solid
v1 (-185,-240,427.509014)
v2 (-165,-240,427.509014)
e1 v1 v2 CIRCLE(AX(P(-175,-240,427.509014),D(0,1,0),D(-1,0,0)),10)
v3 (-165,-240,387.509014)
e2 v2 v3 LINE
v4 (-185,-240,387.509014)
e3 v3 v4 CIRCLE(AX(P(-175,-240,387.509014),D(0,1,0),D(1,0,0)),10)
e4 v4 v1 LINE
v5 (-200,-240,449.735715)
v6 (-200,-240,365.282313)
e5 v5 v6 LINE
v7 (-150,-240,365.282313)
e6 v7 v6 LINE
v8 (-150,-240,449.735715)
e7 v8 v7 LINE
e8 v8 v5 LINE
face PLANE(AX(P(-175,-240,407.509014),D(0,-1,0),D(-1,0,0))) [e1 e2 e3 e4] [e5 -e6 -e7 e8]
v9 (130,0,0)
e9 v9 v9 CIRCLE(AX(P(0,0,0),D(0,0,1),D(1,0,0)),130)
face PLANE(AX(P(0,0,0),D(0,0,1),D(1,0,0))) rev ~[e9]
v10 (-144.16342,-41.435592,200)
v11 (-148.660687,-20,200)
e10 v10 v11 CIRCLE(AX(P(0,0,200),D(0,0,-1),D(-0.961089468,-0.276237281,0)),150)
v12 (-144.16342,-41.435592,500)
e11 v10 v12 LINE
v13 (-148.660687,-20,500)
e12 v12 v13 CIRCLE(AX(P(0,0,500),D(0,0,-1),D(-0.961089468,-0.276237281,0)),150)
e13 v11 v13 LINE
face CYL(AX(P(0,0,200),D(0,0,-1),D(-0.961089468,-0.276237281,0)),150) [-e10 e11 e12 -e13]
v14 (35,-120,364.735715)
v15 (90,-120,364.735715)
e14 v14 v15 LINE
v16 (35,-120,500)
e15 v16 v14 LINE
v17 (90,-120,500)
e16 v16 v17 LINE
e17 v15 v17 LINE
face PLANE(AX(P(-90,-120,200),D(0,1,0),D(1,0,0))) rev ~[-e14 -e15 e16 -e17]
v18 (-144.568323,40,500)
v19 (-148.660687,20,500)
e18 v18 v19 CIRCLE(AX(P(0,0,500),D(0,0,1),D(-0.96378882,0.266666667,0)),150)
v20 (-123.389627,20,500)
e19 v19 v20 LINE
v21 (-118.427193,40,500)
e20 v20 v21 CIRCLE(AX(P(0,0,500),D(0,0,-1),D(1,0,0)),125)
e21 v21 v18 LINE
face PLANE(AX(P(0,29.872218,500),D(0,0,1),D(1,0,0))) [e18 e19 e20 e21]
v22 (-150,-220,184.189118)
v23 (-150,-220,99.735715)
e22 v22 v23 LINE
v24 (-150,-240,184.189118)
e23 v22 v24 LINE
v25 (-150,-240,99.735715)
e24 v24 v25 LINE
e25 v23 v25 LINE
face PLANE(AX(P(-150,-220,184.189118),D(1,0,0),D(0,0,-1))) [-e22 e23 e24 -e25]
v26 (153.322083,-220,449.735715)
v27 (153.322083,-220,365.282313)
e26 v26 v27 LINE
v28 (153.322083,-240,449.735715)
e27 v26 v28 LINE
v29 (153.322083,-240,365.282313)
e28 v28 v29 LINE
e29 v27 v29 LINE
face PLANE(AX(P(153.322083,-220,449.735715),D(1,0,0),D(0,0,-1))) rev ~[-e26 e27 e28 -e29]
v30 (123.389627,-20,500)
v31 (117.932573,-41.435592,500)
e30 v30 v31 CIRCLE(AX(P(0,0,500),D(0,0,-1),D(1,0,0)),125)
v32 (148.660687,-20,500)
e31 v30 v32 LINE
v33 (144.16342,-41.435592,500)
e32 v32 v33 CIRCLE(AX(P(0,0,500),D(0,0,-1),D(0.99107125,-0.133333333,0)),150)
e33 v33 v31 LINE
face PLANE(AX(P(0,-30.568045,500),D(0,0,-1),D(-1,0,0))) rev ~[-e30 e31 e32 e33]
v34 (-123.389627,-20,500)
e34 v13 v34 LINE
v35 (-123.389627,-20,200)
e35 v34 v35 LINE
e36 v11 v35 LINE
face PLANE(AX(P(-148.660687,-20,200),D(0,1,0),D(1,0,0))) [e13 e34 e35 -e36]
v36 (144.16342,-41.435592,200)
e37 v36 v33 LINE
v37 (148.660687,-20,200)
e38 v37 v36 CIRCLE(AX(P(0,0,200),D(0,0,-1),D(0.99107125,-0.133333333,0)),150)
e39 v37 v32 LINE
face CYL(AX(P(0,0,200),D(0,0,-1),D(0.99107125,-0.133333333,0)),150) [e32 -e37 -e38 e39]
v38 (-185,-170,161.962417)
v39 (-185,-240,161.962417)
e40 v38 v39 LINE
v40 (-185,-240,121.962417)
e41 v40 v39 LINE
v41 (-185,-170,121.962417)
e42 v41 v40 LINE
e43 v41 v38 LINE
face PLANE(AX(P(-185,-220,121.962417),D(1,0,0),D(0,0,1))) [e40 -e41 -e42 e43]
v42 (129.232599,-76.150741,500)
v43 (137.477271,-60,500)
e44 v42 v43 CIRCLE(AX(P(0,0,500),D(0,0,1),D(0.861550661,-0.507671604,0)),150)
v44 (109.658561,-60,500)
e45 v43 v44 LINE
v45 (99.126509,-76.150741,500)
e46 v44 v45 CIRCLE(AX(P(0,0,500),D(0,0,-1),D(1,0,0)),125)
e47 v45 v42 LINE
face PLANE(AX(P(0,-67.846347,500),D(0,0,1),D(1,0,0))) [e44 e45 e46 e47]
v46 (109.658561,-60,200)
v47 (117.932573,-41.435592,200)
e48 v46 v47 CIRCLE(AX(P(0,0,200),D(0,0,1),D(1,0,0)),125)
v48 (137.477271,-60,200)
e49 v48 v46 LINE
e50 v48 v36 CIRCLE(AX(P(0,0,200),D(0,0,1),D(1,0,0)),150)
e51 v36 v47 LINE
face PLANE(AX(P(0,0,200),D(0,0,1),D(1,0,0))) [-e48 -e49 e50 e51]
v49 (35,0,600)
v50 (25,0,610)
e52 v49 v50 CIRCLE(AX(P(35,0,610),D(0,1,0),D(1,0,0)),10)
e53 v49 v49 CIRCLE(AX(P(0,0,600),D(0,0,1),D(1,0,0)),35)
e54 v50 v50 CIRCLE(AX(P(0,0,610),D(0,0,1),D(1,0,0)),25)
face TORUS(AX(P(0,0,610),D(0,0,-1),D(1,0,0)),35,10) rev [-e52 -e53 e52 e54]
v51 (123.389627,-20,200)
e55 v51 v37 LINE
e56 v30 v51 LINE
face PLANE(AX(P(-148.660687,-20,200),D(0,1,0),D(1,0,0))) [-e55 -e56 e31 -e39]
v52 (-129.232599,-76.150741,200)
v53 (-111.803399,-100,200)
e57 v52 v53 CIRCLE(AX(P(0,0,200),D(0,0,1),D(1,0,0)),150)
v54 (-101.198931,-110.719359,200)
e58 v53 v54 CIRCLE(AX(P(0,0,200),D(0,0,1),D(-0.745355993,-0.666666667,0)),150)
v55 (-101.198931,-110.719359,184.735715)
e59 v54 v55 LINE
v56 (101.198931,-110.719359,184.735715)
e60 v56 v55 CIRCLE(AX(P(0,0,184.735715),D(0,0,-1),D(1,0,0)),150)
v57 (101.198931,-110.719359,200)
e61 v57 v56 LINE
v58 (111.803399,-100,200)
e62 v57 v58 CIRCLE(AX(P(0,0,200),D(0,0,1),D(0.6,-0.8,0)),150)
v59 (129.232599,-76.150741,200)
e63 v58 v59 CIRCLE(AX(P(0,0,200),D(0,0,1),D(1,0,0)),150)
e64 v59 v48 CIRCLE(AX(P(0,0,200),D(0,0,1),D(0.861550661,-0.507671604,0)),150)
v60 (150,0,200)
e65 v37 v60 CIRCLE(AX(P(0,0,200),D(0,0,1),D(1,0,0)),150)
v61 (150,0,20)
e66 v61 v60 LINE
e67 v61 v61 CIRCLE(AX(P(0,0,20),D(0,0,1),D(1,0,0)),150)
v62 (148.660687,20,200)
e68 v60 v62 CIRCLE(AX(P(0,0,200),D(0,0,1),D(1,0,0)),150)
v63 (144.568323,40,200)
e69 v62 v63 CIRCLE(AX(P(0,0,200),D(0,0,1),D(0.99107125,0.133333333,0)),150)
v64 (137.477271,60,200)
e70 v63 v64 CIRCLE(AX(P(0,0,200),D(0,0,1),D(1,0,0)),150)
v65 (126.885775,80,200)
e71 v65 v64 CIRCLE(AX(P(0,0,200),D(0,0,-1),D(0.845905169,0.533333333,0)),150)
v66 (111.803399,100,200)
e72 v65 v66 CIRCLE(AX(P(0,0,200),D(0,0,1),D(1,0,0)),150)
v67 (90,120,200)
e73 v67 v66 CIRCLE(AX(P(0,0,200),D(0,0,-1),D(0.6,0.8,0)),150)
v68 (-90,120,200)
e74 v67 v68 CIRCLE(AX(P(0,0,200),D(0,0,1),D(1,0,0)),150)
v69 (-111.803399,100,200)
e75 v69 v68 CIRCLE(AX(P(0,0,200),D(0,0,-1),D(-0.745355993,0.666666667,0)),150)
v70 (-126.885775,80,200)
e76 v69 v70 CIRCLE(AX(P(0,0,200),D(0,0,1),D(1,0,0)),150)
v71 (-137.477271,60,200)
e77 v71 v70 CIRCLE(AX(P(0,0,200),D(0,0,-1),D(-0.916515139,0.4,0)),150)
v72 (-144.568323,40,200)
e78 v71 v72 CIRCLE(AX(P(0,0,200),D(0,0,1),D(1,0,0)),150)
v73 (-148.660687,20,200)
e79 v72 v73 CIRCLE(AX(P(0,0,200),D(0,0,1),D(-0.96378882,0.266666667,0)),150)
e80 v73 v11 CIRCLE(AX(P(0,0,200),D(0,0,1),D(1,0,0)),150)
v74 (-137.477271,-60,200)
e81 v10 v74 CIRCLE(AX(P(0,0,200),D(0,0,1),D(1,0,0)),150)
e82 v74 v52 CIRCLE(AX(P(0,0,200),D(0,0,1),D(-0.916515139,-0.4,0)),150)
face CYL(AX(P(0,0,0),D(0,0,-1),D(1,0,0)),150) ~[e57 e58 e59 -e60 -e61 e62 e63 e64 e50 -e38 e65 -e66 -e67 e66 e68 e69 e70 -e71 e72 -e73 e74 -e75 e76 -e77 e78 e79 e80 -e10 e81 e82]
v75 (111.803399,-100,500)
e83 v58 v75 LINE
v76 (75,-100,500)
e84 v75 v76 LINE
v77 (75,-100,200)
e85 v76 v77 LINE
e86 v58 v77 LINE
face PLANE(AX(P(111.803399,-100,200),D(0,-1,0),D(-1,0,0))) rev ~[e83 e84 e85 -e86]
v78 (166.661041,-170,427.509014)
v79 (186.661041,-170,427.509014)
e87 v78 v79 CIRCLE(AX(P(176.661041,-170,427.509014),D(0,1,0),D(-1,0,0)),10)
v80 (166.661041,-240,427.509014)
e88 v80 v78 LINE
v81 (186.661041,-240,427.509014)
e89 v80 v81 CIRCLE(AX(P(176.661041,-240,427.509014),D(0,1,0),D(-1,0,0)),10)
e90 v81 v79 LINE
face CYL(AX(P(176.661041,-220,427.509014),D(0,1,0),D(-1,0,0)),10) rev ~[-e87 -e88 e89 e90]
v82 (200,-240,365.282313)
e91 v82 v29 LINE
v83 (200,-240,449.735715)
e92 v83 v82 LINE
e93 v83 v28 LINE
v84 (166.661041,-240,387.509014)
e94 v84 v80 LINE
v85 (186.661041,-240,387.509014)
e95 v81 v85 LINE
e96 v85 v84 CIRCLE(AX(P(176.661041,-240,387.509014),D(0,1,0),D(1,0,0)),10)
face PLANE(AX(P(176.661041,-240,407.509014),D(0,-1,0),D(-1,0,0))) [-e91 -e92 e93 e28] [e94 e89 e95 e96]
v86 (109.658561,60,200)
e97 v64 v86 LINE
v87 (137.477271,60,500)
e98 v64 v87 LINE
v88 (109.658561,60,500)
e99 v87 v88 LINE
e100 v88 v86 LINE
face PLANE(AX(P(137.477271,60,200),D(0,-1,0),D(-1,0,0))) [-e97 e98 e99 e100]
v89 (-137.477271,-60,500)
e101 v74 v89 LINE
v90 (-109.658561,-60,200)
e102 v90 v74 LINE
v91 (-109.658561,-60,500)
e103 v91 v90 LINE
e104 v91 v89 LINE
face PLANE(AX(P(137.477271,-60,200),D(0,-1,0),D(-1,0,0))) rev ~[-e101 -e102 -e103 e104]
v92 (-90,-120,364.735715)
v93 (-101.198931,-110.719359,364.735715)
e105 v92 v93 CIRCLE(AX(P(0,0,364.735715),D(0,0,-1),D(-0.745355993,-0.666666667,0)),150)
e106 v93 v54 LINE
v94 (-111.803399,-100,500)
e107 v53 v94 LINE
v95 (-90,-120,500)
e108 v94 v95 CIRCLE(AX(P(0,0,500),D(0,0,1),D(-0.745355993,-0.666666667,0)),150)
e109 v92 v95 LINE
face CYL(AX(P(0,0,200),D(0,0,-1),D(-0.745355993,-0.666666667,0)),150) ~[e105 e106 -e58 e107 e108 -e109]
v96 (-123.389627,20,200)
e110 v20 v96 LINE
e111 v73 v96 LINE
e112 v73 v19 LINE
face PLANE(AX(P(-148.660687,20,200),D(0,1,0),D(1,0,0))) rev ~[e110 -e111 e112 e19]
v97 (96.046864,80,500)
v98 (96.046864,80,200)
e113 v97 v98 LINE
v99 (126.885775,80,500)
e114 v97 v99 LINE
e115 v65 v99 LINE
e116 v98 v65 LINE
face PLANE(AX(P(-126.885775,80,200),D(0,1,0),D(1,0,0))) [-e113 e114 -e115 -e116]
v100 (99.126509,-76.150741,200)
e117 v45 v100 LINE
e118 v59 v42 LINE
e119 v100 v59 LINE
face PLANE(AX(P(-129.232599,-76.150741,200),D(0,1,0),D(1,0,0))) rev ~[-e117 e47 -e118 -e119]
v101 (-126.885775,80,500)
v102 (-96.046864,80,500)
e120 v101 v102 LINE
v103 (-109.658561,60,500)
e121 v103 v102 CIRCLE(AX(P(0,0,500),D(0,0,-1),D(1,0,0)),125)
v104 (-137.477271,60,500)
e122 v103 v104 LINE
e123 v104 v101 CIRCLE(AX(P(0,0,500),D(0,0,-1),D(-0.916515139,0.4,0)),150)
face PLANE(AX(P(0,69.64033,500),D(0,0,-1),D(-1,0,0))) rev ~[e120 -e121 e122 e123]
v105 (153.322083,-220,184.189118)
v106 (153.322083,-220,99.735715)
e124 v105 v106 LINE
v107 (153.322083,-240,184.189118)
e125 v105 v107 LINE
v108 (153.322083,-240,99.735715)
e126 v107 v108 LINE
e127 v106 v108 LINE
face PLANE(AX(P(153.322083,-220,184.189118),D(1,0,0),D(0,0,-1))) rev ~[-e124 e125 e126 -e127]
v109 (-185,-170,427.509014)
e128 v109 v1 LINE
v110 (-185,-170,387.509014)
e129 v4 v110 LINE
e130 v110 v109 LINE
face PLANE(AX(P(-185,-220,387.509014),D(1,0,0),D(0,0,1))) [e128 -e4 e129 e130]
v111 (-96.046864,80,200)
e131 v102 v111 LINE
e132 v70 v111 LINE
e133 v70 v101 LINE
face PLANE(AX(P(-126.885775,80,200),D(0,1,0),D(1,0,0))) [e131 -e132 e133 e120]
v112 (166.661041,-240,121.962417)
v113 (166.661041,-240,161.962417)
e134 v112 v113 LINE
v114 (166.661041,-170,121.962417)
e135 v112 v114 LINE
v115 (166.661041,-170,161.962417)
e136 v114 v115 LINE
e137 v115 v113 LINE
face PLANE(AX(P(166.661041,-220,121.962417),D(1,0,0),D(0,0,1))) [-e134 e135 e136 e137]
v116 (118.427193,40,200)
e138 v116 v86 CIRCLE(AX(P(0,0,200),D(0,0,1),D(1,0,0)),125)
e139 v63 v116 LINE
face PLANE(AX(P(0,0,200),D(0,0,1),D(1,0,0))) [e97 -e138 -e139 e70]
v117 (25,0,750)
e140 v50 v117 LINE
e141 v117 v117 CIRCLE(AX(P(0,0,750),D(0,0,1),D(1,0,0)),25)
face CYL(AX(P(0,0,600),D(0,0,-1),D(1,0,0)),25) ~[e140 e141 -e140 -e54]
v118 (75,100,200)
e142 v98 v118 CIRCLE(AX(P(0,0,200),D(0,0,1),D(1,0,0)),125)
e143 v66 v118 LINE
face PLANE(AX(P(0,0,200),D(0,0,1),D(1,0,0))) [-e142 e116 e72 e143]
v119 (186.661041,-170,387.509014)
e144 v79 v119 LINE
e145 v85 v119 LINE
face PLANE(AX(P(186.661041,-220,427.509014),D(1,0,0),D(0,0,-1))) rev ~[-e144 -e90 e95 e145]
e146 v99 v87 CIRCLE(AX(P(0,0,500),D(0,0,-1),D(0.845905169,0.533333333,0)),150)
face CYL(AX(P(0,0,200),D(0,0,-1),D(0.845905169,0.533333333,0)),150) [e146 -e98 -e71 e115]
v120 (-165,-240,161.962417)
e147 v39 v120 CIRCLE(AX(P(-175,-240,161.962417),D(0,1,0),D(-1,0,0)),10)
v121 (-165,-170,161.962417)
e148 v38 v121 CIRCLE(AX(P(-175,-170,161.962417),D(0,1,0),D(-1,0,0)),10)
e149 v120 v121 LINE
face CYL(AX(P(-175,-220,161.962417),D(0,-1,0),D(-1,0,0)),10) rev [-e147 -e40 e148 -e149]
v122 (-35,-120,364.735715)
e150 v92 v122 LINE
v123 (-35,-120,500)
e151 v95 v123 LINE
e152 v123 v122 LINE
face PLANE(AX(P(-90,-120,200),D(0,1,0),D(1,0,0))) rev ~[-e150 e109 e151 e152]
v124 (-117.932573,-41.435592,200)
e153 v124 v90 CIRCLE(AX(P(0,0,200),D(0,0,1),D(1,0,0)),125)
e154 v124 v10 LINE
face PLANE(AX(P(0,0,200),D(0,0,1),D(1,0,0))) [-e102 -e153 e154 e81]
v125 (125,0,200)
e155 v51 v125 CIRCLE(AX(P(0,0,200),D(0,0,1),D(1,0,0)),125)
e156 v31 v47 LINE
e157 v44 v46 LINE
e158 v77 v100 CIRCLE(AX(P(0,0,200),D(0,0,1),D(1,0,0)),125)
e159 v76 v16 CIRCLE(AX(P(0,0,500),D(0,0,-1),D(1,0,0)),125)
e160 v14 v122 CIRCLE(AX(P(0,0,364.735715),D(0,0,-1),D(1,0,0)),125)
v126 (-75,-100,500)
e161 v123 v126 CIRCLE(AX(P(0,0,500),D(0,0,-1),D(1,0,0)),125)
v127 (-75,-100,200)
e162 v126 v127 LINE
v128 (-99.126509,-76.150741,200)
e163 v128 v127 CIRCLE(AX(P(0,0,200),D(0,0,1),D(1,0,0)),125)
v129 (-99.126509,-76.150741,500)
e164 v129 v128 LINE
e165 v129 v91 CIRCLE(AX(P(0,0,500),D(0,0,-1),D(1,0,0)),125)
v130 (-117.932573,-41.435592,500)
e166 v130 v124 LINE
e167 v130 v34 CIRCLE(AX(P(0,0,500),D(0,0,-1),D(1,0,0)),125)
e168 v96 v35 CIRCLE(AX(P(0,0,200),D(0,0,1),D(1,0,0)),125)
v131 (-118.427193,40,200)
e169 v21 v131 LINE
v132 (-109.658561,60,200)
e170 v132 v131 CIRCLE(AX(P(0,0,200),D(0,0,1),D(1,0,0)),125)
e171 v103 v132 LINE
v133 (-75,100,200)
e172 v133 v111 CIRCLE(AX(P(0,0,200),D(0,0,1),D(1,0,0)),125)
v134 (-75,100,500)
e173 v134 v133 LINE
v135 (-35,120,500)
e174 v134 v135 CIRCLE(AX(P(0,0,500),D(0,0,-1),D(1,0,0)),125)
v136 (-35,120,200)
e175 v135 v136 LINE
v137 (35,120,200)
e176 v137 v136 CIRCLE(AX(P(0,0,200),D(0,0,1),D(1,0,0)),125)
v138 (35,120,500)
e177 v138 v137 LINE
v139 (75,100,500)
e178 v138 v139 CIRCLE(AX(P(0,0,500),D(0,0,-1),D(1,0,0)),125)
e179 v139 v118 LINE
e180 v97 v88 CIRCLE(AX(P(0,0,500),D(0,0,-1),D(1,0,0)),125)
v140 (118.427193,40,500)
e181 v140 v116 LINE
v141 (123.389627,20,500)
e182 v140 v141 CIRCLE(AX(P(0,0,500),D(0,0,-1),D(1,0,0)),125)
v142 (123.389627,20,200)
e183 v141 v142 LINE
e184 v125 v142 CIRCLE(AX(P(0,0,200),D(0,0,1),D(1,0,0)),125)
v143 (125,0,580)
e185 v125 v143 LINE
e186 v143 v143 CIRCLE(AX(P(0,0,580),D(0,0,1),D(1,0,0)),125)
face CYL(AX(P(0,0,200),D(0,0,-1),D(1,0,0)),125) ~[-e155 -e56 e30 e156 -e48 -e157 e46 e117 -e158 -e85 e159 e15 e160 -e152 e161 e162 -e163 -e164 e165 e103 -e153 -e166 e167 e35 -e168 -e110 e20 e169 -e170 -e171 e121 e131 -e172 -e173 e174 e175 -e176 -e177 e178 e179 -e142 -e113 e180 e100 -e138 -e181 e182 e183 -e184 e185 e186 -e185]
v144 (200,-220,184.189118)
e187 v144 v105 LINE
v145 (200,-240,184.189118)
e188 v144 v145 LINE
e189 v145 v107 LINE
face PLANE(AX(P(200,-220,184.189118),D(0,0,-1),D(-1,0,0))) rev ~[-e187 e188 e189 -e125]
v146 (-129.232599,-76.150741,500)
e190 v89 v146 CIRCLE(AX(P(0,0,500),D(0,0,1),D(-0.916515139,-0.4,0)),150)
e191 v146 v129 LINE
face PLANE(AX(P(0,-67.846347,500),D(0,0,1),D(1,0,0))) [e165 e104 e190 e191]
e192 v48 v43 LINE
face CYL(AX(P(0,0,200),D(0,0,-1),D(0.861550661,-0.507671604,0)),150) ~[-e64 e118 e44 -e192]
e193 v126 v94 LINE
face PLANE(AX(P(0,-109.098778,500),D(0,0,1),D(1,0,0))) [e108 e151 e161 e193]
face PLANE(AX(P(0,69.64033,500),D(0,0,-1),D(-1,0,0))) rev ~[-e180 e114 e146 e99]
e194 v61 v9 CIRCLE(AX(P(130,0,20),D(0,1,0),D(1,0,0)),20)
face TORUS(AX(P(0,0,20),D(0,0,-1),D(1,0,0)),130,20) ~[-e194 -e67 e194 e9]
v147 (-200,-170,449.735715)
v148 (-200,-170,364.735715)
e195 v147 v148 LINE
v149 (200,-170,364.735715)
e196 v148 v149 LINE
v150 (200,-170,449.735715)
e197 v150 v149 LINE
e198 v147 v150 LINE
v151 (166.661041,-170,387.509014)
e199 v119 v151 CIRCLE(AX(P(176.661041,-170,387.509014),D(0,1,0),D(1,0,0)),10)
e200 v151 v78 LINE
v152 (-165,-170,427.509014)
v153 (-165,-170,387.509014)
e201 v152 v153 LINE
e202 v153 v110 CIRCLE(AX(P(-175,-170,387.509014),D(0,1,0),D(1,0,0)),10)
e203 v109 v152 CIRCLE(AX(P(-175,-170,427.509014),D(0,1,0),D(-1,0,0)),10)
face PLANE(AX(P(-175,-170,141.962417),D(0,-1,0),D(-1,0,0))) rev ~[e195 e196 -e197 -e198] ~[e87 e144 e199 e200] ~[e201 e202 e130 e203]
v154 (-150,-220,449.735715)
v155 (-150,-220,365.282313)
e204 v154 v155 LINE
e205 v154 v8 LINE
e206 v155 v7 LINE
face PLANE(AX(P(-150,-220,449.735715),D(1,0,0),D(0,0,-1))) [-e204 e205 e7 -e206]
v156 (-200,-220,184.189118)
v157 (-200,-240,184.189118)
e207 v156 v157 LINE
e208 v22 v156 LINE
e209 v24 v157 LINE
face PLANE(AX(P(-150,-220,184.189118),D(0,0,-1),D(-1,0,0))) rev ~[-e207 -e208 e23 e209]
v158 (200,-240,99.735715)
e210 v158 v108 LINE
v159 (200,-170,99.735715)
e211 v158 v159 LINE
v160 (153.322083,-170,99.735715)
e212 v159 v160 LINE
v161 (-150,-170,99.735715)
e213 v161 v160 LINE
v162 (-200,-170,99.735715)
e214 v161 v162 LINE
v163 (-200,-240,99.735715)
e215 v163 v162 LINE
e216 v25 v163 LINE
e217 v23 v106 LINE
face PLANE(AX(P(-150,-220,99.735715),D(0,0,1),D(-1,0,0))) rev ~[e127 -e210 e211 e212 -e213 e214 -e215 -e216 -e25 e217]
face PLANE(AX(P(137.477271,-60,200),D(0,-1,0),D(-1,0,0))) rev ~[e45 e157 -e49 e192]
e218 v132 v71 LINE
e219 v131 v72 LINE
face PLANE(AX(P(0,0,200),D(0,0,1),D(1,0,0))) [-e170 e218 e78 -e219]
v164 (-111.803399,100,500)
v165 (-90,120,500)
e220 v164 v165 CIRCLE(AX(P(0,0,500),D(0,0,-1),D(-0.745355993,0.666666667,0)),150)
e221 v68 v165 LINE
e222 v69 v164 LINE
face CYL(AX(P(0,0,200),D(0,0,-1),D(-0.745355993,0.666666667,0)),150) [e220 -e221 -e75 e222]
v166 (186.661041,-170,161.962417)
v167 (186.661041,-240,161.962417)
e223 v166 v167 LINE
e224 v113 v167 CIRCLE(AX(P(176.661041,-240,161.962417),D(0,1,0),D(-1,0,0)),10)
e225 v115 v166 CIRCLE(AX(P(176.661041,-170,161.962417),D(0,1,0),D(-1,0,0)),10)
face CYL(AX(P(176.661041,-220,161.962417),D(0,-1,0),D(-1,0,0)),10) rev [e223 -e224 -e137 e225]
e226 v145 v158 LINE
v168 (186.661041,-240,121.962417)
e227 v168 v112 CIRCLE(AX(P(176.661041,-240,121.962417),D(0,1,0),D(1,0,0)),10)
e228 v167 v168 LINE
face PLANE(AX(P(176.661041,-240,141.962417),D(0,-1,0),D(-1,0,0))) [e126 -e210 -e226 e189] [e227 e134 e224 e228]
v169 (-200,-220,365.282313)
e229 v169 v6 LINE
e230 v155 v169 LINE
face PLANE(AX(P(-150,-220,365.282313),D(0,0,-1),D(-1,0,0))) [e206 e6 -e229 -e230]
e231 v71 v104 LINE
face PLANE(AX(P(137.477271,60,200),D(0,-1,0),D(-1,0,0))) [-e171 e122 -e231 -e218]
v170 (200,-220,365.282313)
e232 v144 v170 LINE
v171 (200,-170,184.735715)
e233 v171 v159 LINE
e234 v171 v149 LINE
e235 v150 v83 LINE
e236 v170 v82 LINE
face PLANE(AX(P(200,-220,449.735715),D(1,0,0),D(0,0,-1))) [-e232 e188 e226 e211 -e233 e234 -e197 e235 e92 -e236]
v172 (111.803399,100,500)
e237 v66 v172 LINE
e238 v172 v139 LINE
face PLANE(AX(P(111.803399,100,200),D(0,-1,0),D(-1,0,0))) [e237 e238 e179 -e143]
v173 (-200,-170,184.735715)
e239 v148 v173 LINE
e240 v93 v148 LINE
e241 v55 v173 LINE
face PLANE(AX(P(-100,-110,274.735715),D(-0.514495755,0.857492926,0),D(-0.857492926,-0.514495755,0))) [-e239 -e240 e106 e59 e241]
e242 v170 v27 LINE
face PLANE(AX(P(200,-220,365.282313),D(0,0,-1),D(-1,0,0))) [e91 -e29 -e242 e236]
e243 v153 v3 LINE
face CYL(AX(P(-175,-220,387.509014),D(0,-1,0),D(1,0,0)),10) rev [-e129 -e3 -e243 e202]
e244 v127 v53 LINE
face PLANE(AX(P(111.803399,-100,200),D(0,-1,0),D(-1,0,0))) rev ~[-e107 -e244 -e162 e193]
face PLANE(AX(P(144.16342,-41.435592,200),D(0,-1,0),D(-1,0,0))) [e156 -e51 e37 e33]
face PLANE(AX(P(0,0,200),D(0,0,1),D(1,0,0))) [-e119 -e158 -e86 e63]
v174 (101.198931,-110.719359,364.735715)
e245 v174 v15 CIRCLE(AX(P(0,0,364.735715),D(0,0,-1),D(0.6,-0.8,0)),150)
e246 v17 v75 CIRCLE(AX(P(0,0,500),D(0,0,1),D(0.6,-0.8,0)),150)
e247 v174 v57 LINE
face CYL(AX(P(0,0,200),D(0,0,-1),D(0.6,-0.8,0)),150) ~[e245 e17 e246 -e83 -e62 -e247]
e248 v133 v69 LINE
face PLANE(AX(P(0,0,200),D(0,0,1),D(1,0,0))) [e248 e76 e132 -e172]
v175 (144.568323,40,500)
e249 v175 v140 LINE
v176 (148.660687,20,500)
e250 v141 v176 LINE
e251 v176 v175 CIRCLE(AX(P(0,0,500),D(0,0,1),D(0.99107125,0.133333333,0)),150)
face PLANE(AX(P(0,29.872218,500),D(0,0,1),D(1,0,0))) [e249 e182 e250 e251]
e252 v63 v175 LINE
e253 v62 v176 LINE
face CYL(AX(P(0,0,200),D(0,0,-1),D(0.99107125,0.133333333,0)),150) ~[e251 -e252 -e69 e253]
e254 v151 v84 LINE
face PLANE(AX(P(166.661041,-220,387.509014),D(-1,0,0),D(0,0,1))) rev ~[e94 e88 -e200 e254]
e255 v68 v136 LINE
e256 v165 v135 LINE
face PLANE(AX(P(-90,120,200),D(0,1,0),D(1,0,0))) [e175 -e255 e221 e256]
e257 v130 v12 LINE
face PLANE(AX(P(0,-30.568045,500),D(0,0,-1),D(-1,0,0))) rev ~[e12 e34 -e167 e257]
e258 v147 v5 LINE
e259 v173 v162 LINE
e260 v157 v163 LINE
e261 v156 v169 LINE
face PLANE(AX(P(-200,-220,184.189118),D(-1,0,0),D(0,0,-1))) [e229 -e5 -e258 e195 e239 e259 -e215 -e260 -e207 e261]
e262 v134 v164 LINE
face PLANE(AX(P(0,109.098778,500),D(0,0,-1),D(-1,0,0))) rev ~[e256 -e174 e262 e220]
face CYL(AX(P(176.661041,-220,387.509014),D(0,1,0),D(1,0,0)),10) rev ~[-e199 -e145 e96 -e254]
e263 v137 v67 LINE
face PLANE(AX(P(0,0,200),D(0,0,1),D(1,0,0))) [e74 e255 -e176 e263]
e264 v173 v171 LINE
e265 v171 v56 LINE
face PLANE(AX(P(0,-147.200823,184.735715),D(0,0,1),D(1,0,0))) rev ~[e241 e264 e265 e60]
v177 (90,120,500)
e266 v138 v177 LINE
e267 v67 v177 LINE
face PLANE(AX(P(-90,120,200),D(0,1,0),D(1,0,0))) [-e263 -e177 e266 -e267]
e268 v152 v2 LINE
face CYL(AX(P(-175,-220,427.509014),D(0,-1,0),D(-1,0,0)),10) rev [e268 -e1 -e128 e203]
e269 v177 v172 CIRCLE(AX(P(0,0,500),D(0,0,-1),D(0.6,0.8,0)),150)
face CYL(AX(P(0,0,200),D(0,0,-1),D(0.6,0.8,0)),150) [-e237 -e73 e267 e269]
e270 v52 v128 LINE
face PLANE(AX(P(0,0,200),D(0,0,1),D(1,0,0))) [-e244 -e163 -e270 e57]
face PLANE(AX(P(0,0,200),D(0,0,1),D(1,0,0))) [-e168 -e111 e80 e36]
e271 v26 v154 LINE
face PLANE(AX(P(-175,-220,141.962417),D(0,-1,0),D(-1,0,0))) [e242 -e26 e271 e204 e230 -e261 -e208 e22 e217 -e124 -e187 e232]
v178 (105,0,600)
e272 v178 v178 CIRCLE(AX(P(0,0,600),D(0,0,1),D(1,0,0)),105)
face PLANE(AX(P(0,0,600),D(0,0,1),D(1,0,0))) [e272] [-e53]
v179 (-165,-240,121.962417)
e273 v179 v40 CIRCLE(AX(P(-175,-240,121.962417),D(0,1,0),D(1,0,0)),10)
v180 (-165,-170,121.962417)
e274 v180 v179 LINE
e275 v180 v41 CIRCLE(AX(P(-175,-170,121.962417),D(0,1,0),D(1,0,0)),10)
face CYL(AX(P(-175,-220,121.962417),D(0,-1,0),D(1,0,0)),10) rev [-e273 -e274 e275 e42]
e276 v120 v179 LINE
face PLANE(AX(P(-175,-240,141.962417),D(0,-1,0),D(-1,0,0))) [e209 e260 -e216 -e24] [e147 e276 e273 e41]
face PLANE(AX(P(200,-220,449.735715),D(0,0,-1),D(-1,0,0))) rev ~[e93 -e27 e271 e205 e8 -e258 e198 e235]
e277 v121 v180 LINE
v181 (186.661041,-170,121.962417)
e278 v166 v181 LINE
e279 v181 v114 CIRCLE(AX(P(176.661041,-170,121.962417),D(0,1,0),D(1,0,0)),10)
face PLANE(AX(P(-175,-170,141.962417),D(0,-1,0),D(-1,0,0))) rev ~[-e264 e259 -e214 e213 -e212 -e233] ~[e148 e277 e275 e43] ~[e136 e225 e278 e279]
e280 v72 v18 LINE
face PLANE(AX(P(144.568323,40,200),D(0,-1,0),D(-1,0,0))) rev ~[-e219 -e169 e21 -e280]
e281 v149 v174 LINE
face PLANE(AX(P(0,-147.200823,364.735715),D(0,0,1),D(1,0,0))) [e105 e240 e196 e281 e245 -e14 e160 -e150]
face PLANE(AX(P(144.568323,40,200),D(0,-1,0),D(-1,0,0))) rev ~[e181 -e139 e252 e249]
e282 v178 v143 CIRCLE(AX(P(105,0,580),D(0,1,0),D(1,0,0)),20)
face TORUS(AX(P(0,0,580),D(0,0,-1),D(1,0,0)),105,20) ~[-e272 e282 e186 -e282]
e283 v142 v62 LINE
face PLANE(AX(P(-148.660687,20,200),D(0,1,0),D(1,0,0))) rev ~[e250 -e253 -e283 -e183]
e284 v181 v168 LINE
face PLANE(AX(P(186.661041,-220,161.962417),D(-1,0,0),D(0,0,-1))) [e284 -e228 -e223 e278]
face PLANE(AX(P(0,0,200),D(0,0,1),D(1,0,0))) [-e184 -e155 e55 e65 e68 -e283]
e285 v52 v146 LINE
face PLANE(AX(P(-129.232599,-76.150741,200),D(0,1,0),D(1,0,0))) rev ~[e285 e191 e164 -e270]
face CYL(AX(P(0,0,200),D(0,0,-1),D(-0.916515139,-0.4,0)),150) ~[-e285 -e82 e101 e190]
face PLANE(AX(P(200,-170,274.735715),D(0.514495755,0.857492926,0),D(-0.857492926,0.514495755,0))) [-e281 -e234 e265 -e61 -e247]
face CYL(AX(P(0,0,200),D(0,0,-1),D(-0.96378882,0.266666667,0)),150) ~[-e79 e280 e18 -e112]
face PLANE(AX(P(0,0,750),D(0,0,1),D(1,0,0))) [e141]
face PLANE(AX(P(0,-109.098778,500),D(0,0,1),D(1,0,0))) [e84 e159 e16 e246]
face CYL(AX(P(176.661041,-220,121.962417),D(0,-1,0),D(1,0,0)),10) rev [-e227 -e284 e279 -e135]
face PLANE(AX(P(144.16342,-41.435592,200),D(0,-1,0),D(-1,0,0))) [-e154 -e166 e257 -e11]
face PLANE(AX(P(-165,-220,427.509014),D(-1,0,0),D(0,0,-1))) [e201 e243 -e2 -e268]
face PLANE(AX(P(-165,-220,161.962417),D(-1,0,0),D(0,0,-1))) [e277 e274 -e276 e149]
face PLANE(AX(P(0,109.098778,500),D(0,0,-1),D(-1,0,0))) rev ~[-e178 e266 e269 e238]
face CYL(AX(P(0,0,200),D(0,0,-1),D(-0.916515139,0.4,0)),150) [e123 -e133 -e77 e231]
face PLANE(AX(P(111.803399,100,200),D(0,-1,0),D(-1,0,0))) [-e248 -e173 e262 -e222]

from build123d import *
from build123d.topology import SkipClean

# Parameters (mm, degrees)
SKETCH1_R            = 150
BOSS_EXTRUDE1_DEPTH  = 200
BOSS_EXTRUDE11_DEPTH = 300
BOSS_EXTRUDE14_START = -300
SKETCH12_R           = 125
BOSS_EXTRUDE14_DEPTH = 400
SKETCH13_W           = 46.677917496
SKETCH13_H           = 84.453402707
SKETCH13_H_2         = 84.453402706
SKETCH13_W_2         = 50
BOSS_EXTRUDE15_DEPTH = 50
SKETCH13_3_W         = 46.677917496
SKETCH13_3_H         = 84.453402706
SKETCH13_3_H_2       = 84.453402707
SKETCH13_3_W_2       = 50
BOSS_EXTRUDE16_DEPTH = 20
BOSS_EXTRUDE17_DEPTH = 90
SKETCH16_R           = 25
BOSS_EXTRUDE18_DEPTH = 150
FILLET2_R            = 10
FILLET3_R            = 20


with BuildPart() as part:
    # Sketch1 → Boss-Extrude1 (new body)
    with BuildSketch(Plane.XY):
        Circle(SKETCH1_R)
    extrude(amount=BOSS_EXTRUDE1_DEPTH)

    # Sketch7 → Boss-Extrude11 (add)
    with SkipClean():  # the faces are left unmerged after this step: merging them gives an invalid solid
        with BuildSketch(Plane.XY.offset(200)):
            with BuildLine():
                Line((-90, 120), (90, 120))
                ThreePointArc((90, 120), (101.396020382, 110.538893837), (111.803398875, 100))
                Line((111.803398875, 100), (-111.803398875, 100))
                ThreePointArc((-111.803398875, 100), (-101.396020382, 110.538893837), (-90, 120))
            make_face()
            with BuildLine():
                Line((-126.885775404, 80), (126.885775404, 80))
                ThreePointArc((126.885775404, 80), (132.559251115, 70.200035213), (137.477270849, 60))
                Line((137.477270849, 60), (-137.477270849, 60))
                ThreePointArc((-137.477270849, 60), (-132.559251115, 70.200035213), (-126.885775404, 80))
            make_face()
            with BuildLine():
                Line((144.16342013, -41.435592144), (-144.16342013, -41.435592144))
                ThreePointArc((-144.16342013, -41.435592144), (-146.803816882, -30.799989431), (-148.660687473, -20))
                Line((-148.660687473, -20), (148.660687473, -20))
                ThreePointArc((148.660687473, -20), (146.803816882, -30.799989431), (144.16342013, -41.435592144))
            make_face()
            with BuildLine():
                Line((111.803398875, -100), (-111.803398875, -100))
                ThreePointArc((-111.803398875, -100), (-101.396020382, -110.538893837), (-90, -120))
                Line((-90, -120), (90, -120))
                ThreePointArc((90, -120), (101.396020382, -110.538893837), (111.803398875, -100))
            make_face()
            with BuildLine():
                Line((144.568322948, 40), (-144.568322948, 40))
                ThreePointArc((-144.568322948, 40), (-146.955139883, 30.069700063), (-148.660687473, 20))
                Line((-148.660687473, 20), (148.660687473, 20))
                ThreePointArc((148.660687473, 20), (146.955139883, 30.069700063), (144.568322948, 40))
            make_face()
            with BuildLine():
                Line((137.477270849, -60), (-137.477270849, -60))
                ThreePointArc((-137.477270849, -60), (-133.599215205, -68.20007109), (-129.232599216, -76.150740639))
                Line((-129.232599216, -76.150740639), (129.232599216, -76.150740639))
                ThreePointArc((129.232599216, -76.150740639), (133.599215205, -68.20007109), (137.477270849, -60))
            make_face()
        extrude(amount=BOSS_EXTRUDE11_DEPTH)



with BuildPart() as body_2:
    # Sketch12 → Boss-Extrude14 (new body)
    with BuildSketch(Plane.XY.offset(500).offset(BOSS_EXTRUDE14_START)):
        Circle(SKETCH12_R)
    extrude(amount=BOSS_EXTRUDE14_DEPTH)


with BuildPart() as body_3:
    # Sketch13 → Boss-Extrude15 (new body)
    # profile 1 of 5: a face of its own
    with BuildSketch(Plane(origin=(0, -220, 0), x_dir=(-1, 0, 0), z_dir=(0, -1, 0))):
        Polygon((150, -99.735715433), (-153.322082504, -99.735715433), (-153.322082504, -184.18911814), (-200, -184.18911814), (-200, -365.282312727), (-153.322082504, -365.282312727), (-153.322082504, -449.735715433), (150, -449.735715433), (150, -365.282312727), (200, -365.282312727), (200, -184.18911814), (150, -184.18911814), align=None)
    # profile 2 of 5: a face of its own
    with BuildSketch(Plane(origin=(0, -220, 0), x_dir=(-1, 0, 0), z_dir=(0, -1, 0))):
        with Locations((-176.661041252, -141.962416787)):
            Rectangle(SKETCH13_W, SKETCH13_H)
        with BuildLine():
            ThreePointArc((-186.661041252, -121.962416787), (-176.661041252, -111.962416787), (-166.661041252, -121.962416787))
            Line((-166.661041252, -121.962416787), (-166.661041252, -161.962416787))
            ThreePointArc((-166.661041252, -161.962416787), (-176.661041252, -171.962416787), (-186.661041252, -161.962416787))
            Line((-186.661041252, -161.962416787), (-186.661041252, -121.962416787))
        make_face(mode=Mode.SUBTRACT)
    # profile 3 of 5: a face of its own
    with BuildSketch(Plane(origin=(0, -220, 0), x_dir=(-1, 0, 0), z_dir=(0, -1, 0))):
        with Locations((-176.661041252, -407.50901408)):
            Rectangle(SKETCH13_W, SKETCH13_H_2)
        with BuildLine():
            Line((-166.661041252, -387.50901408), (-166.661041252, -427.50901408))
            ThreePointArc((-166.661041252, -427.50901408), (-176.661041252, -437.50901408), (-186.661041252, -427.50901408))
            Line((-186.661041252, -427.50901408), (-186.661041252, -387.50901408))
            ThreePointArc((-186.661041252, -387.50901408), (-176.661041252, -377.50901408), (-166.661041252, -387.50901408))
        make_face(mode=Mode.SUBTRACT)
    # profile 4 of 5: a face of its own
    with BuildSketch(Plane(origin=(0, -220, 0), x_dir=(-1, 0, 0), z_dir=(0, -1, 0))):
        with Locations((175, -407.50901408)):
            Rectangle(SKETCH13_W_2, SKETCH13_H_2)
        with BuildLine():
            Line((185, -387.50901408), (185, -427.50901408))
            ThreePointArc((185, -427.50901408), (175, -437.50901408), (165, -427.50901408))
            Line((165, -427.50901408), (165, -387.50901408))
            ThreePointArc((165, -387.50901408), (175, -377.50901408), (185, -387.50901408))
        make_face(mode=Mode.SUBTRACT)
    # profile 5 of 5: a face of its own
    with BuildSketch(Plane(origin=(0, -220, 0), x_dir=(-1, 0, 0), z_dir=(0, -1, 0))):
        with Locations((175, -141.962416787)):
            Rectangle(SKETCH13_W_2, SKETCH13_H)
        with BuildLine():
            ThreePointArc((165, -121.962416787), (175, -111.962416787), (185, -121.962416787))
            Line((185, -121.962416787), (185, -161.962416787))
            ThreePointArc((185, -161.962416787), (175, -171.962416787), (165, -161.962416787))
            Line((165, -161.962416787), (165, -121.962416787))
        make_face(mode=Mode.SUBTRACT)
    extrude(amount=-BOSS_EXTRUDE15_DEPTH)

    # Sketch13<3> → Boss-Extrude16 (add)
    # profile 1 of 4: a face of its own
    with BuildSketch(Plane(origin=(0, -220, 0), x_dir=(-1, 0, 0), z_dir=(0, -1, 0))):
        with Locations((-176.661041252, -407.50901408)):
            Rectangle(SKETCH13_3_W, SKETCH13_3_H)
        with BuildLine():
            Line((-166.661041252, -387.50901408), (-166.661041252, -427.50901408))
            ThreePointArc((-166.661041252, -427.50901408), (-176.661041252, -437.50901408), (-186.661041252, -427.50901408))
            Line((-186.661041252, -427.50901408), (-186.661041252, -387.50901408))
            ThreePointArc((-186.661041252, -387.50901408), (-176.661041252, -377.50901408), (-166.661041252, -387.50901408))
        make_face(mode=Mode.SUBTRACT)
    # profile 2 of 4: a face of its own
    with BuildSketch(Plane(origin=(0, -220, 0), x_dir=(-1, 0, 0), z_dir=(0, -1, 0))):
        with Locations((-176.661041252, -141.962416787)):
            Rectangle(SKETCH13_3_W, SKETCH13_3_H_2)
        with BuildLine():
            ThreePointArc((-186.661041252, -121.962416787), (-176.661041252, -111.962416787), (-166.661041252, -121.962416787))
            Line((-166.661041252, -121.962416787), (-166.661041252, -161.962416787))
            ThreePointArc((-166.661041252, -161.962416787), (-176.661041252, -171.962416787), (-186.661041252, -161.962416787))
            Line((-186.661041252, -161.962416787), (-186.661041252, -121.962416787))
        make_face(mode=Mode.SUBTRACT)
    # profile 3 of 4: a face of its own
    with BuildSketch(Plane(origin=(0, -220, 0), x_dir=(-1, 0, 0), z_dir=(0, -1, 0))):
        with Locations((175, -407.50901408)):
            Rectangle(SKETCH13_3_W_2, SKETCH13_3_H)
        with BuildLine():
            Line((185, -387.50901408), (185, -427.50901408))
            ThreePointArc((185, -427.50901408), (175, -437.50901408), (165, -427.50901408))
            Line((165, -427.50901408), (165, -387.50901408))
            ThreePointArc((165, -387.50901408), (175, -377.50901408), (185, -387.50901408))
        make_face(mode=Mode.SUBTRACT)
    # profile 4 of 4: a face of its own
    with BuildSketch(Plane(origin=(0, -220, 0), x_dir=(-1, 0, 0), z_dir=(0, -1, 0))):
        with Locations((175, -141.962416787)):
            Rectangle(SKETCH13_3_W_2, SKETCH13_3_H_2)
        with BuildLine():
            ThreePointArc((165, -121.962416787), (175, -111.962416787), (185, -121.962416787))
            Line((185, -121.962416787), (185, -161.962416787))
            ThreePointArc((185, -161.962416787), (175, -171.962416787), (165, -161.962416787))
            Line((165, -161.962416787), (165, -121.962416787))
        make_face(mode=Mode.SUBTRACT)
    extrude(amount=BOSS_EXTRUDE16_DEPTH)


with BuildPart() as part_1:
    with SkipClean():  # the faces are left unmerged after this step: merging them gives an invalid solid
        add(part.part)

        add(body_2.part)  # Boss-Extrude17 merges body 2

        add(body_3.part)  # Boss-Extrude17 merges body 3
        # Sketch14 → Boss-Extrude17 (add, symmetric)
        with BuildSketch(Plane.XY.offset(274.735715433)):
            Polygon((-200, -170), (200, -170), (100, -110), (-100, -110), align=None)
        extrude(amount=BOSS_EXTRUDE17_DEPTH, both=True)

    # Sketch16 → Boss-Extrude18 (add)
    with BuildSketch(Plane.XY.offset(600)):
        Circle(SKETCH16_R)
    extrude(amount=BOSS_EXTRUDE18_DEPTH)

    # Fillet2
    fillet2_edges = [part_1.edges().sort_by_distance(p)[0] for p in [
        (-25, 0, 600),
    ]]
    fillet(fillet2_edges, radius=FILLET2_R)

    # Fillet3
    fillet3_edges = [part_1.edges().sort_by_distance(p)[0] for p in [
        (-125, 0, 600),
        (-150, 0, 0),
    ]]
    fillet(fillet3_edges, radius=FILLET3_R)


solid = part_1.part
